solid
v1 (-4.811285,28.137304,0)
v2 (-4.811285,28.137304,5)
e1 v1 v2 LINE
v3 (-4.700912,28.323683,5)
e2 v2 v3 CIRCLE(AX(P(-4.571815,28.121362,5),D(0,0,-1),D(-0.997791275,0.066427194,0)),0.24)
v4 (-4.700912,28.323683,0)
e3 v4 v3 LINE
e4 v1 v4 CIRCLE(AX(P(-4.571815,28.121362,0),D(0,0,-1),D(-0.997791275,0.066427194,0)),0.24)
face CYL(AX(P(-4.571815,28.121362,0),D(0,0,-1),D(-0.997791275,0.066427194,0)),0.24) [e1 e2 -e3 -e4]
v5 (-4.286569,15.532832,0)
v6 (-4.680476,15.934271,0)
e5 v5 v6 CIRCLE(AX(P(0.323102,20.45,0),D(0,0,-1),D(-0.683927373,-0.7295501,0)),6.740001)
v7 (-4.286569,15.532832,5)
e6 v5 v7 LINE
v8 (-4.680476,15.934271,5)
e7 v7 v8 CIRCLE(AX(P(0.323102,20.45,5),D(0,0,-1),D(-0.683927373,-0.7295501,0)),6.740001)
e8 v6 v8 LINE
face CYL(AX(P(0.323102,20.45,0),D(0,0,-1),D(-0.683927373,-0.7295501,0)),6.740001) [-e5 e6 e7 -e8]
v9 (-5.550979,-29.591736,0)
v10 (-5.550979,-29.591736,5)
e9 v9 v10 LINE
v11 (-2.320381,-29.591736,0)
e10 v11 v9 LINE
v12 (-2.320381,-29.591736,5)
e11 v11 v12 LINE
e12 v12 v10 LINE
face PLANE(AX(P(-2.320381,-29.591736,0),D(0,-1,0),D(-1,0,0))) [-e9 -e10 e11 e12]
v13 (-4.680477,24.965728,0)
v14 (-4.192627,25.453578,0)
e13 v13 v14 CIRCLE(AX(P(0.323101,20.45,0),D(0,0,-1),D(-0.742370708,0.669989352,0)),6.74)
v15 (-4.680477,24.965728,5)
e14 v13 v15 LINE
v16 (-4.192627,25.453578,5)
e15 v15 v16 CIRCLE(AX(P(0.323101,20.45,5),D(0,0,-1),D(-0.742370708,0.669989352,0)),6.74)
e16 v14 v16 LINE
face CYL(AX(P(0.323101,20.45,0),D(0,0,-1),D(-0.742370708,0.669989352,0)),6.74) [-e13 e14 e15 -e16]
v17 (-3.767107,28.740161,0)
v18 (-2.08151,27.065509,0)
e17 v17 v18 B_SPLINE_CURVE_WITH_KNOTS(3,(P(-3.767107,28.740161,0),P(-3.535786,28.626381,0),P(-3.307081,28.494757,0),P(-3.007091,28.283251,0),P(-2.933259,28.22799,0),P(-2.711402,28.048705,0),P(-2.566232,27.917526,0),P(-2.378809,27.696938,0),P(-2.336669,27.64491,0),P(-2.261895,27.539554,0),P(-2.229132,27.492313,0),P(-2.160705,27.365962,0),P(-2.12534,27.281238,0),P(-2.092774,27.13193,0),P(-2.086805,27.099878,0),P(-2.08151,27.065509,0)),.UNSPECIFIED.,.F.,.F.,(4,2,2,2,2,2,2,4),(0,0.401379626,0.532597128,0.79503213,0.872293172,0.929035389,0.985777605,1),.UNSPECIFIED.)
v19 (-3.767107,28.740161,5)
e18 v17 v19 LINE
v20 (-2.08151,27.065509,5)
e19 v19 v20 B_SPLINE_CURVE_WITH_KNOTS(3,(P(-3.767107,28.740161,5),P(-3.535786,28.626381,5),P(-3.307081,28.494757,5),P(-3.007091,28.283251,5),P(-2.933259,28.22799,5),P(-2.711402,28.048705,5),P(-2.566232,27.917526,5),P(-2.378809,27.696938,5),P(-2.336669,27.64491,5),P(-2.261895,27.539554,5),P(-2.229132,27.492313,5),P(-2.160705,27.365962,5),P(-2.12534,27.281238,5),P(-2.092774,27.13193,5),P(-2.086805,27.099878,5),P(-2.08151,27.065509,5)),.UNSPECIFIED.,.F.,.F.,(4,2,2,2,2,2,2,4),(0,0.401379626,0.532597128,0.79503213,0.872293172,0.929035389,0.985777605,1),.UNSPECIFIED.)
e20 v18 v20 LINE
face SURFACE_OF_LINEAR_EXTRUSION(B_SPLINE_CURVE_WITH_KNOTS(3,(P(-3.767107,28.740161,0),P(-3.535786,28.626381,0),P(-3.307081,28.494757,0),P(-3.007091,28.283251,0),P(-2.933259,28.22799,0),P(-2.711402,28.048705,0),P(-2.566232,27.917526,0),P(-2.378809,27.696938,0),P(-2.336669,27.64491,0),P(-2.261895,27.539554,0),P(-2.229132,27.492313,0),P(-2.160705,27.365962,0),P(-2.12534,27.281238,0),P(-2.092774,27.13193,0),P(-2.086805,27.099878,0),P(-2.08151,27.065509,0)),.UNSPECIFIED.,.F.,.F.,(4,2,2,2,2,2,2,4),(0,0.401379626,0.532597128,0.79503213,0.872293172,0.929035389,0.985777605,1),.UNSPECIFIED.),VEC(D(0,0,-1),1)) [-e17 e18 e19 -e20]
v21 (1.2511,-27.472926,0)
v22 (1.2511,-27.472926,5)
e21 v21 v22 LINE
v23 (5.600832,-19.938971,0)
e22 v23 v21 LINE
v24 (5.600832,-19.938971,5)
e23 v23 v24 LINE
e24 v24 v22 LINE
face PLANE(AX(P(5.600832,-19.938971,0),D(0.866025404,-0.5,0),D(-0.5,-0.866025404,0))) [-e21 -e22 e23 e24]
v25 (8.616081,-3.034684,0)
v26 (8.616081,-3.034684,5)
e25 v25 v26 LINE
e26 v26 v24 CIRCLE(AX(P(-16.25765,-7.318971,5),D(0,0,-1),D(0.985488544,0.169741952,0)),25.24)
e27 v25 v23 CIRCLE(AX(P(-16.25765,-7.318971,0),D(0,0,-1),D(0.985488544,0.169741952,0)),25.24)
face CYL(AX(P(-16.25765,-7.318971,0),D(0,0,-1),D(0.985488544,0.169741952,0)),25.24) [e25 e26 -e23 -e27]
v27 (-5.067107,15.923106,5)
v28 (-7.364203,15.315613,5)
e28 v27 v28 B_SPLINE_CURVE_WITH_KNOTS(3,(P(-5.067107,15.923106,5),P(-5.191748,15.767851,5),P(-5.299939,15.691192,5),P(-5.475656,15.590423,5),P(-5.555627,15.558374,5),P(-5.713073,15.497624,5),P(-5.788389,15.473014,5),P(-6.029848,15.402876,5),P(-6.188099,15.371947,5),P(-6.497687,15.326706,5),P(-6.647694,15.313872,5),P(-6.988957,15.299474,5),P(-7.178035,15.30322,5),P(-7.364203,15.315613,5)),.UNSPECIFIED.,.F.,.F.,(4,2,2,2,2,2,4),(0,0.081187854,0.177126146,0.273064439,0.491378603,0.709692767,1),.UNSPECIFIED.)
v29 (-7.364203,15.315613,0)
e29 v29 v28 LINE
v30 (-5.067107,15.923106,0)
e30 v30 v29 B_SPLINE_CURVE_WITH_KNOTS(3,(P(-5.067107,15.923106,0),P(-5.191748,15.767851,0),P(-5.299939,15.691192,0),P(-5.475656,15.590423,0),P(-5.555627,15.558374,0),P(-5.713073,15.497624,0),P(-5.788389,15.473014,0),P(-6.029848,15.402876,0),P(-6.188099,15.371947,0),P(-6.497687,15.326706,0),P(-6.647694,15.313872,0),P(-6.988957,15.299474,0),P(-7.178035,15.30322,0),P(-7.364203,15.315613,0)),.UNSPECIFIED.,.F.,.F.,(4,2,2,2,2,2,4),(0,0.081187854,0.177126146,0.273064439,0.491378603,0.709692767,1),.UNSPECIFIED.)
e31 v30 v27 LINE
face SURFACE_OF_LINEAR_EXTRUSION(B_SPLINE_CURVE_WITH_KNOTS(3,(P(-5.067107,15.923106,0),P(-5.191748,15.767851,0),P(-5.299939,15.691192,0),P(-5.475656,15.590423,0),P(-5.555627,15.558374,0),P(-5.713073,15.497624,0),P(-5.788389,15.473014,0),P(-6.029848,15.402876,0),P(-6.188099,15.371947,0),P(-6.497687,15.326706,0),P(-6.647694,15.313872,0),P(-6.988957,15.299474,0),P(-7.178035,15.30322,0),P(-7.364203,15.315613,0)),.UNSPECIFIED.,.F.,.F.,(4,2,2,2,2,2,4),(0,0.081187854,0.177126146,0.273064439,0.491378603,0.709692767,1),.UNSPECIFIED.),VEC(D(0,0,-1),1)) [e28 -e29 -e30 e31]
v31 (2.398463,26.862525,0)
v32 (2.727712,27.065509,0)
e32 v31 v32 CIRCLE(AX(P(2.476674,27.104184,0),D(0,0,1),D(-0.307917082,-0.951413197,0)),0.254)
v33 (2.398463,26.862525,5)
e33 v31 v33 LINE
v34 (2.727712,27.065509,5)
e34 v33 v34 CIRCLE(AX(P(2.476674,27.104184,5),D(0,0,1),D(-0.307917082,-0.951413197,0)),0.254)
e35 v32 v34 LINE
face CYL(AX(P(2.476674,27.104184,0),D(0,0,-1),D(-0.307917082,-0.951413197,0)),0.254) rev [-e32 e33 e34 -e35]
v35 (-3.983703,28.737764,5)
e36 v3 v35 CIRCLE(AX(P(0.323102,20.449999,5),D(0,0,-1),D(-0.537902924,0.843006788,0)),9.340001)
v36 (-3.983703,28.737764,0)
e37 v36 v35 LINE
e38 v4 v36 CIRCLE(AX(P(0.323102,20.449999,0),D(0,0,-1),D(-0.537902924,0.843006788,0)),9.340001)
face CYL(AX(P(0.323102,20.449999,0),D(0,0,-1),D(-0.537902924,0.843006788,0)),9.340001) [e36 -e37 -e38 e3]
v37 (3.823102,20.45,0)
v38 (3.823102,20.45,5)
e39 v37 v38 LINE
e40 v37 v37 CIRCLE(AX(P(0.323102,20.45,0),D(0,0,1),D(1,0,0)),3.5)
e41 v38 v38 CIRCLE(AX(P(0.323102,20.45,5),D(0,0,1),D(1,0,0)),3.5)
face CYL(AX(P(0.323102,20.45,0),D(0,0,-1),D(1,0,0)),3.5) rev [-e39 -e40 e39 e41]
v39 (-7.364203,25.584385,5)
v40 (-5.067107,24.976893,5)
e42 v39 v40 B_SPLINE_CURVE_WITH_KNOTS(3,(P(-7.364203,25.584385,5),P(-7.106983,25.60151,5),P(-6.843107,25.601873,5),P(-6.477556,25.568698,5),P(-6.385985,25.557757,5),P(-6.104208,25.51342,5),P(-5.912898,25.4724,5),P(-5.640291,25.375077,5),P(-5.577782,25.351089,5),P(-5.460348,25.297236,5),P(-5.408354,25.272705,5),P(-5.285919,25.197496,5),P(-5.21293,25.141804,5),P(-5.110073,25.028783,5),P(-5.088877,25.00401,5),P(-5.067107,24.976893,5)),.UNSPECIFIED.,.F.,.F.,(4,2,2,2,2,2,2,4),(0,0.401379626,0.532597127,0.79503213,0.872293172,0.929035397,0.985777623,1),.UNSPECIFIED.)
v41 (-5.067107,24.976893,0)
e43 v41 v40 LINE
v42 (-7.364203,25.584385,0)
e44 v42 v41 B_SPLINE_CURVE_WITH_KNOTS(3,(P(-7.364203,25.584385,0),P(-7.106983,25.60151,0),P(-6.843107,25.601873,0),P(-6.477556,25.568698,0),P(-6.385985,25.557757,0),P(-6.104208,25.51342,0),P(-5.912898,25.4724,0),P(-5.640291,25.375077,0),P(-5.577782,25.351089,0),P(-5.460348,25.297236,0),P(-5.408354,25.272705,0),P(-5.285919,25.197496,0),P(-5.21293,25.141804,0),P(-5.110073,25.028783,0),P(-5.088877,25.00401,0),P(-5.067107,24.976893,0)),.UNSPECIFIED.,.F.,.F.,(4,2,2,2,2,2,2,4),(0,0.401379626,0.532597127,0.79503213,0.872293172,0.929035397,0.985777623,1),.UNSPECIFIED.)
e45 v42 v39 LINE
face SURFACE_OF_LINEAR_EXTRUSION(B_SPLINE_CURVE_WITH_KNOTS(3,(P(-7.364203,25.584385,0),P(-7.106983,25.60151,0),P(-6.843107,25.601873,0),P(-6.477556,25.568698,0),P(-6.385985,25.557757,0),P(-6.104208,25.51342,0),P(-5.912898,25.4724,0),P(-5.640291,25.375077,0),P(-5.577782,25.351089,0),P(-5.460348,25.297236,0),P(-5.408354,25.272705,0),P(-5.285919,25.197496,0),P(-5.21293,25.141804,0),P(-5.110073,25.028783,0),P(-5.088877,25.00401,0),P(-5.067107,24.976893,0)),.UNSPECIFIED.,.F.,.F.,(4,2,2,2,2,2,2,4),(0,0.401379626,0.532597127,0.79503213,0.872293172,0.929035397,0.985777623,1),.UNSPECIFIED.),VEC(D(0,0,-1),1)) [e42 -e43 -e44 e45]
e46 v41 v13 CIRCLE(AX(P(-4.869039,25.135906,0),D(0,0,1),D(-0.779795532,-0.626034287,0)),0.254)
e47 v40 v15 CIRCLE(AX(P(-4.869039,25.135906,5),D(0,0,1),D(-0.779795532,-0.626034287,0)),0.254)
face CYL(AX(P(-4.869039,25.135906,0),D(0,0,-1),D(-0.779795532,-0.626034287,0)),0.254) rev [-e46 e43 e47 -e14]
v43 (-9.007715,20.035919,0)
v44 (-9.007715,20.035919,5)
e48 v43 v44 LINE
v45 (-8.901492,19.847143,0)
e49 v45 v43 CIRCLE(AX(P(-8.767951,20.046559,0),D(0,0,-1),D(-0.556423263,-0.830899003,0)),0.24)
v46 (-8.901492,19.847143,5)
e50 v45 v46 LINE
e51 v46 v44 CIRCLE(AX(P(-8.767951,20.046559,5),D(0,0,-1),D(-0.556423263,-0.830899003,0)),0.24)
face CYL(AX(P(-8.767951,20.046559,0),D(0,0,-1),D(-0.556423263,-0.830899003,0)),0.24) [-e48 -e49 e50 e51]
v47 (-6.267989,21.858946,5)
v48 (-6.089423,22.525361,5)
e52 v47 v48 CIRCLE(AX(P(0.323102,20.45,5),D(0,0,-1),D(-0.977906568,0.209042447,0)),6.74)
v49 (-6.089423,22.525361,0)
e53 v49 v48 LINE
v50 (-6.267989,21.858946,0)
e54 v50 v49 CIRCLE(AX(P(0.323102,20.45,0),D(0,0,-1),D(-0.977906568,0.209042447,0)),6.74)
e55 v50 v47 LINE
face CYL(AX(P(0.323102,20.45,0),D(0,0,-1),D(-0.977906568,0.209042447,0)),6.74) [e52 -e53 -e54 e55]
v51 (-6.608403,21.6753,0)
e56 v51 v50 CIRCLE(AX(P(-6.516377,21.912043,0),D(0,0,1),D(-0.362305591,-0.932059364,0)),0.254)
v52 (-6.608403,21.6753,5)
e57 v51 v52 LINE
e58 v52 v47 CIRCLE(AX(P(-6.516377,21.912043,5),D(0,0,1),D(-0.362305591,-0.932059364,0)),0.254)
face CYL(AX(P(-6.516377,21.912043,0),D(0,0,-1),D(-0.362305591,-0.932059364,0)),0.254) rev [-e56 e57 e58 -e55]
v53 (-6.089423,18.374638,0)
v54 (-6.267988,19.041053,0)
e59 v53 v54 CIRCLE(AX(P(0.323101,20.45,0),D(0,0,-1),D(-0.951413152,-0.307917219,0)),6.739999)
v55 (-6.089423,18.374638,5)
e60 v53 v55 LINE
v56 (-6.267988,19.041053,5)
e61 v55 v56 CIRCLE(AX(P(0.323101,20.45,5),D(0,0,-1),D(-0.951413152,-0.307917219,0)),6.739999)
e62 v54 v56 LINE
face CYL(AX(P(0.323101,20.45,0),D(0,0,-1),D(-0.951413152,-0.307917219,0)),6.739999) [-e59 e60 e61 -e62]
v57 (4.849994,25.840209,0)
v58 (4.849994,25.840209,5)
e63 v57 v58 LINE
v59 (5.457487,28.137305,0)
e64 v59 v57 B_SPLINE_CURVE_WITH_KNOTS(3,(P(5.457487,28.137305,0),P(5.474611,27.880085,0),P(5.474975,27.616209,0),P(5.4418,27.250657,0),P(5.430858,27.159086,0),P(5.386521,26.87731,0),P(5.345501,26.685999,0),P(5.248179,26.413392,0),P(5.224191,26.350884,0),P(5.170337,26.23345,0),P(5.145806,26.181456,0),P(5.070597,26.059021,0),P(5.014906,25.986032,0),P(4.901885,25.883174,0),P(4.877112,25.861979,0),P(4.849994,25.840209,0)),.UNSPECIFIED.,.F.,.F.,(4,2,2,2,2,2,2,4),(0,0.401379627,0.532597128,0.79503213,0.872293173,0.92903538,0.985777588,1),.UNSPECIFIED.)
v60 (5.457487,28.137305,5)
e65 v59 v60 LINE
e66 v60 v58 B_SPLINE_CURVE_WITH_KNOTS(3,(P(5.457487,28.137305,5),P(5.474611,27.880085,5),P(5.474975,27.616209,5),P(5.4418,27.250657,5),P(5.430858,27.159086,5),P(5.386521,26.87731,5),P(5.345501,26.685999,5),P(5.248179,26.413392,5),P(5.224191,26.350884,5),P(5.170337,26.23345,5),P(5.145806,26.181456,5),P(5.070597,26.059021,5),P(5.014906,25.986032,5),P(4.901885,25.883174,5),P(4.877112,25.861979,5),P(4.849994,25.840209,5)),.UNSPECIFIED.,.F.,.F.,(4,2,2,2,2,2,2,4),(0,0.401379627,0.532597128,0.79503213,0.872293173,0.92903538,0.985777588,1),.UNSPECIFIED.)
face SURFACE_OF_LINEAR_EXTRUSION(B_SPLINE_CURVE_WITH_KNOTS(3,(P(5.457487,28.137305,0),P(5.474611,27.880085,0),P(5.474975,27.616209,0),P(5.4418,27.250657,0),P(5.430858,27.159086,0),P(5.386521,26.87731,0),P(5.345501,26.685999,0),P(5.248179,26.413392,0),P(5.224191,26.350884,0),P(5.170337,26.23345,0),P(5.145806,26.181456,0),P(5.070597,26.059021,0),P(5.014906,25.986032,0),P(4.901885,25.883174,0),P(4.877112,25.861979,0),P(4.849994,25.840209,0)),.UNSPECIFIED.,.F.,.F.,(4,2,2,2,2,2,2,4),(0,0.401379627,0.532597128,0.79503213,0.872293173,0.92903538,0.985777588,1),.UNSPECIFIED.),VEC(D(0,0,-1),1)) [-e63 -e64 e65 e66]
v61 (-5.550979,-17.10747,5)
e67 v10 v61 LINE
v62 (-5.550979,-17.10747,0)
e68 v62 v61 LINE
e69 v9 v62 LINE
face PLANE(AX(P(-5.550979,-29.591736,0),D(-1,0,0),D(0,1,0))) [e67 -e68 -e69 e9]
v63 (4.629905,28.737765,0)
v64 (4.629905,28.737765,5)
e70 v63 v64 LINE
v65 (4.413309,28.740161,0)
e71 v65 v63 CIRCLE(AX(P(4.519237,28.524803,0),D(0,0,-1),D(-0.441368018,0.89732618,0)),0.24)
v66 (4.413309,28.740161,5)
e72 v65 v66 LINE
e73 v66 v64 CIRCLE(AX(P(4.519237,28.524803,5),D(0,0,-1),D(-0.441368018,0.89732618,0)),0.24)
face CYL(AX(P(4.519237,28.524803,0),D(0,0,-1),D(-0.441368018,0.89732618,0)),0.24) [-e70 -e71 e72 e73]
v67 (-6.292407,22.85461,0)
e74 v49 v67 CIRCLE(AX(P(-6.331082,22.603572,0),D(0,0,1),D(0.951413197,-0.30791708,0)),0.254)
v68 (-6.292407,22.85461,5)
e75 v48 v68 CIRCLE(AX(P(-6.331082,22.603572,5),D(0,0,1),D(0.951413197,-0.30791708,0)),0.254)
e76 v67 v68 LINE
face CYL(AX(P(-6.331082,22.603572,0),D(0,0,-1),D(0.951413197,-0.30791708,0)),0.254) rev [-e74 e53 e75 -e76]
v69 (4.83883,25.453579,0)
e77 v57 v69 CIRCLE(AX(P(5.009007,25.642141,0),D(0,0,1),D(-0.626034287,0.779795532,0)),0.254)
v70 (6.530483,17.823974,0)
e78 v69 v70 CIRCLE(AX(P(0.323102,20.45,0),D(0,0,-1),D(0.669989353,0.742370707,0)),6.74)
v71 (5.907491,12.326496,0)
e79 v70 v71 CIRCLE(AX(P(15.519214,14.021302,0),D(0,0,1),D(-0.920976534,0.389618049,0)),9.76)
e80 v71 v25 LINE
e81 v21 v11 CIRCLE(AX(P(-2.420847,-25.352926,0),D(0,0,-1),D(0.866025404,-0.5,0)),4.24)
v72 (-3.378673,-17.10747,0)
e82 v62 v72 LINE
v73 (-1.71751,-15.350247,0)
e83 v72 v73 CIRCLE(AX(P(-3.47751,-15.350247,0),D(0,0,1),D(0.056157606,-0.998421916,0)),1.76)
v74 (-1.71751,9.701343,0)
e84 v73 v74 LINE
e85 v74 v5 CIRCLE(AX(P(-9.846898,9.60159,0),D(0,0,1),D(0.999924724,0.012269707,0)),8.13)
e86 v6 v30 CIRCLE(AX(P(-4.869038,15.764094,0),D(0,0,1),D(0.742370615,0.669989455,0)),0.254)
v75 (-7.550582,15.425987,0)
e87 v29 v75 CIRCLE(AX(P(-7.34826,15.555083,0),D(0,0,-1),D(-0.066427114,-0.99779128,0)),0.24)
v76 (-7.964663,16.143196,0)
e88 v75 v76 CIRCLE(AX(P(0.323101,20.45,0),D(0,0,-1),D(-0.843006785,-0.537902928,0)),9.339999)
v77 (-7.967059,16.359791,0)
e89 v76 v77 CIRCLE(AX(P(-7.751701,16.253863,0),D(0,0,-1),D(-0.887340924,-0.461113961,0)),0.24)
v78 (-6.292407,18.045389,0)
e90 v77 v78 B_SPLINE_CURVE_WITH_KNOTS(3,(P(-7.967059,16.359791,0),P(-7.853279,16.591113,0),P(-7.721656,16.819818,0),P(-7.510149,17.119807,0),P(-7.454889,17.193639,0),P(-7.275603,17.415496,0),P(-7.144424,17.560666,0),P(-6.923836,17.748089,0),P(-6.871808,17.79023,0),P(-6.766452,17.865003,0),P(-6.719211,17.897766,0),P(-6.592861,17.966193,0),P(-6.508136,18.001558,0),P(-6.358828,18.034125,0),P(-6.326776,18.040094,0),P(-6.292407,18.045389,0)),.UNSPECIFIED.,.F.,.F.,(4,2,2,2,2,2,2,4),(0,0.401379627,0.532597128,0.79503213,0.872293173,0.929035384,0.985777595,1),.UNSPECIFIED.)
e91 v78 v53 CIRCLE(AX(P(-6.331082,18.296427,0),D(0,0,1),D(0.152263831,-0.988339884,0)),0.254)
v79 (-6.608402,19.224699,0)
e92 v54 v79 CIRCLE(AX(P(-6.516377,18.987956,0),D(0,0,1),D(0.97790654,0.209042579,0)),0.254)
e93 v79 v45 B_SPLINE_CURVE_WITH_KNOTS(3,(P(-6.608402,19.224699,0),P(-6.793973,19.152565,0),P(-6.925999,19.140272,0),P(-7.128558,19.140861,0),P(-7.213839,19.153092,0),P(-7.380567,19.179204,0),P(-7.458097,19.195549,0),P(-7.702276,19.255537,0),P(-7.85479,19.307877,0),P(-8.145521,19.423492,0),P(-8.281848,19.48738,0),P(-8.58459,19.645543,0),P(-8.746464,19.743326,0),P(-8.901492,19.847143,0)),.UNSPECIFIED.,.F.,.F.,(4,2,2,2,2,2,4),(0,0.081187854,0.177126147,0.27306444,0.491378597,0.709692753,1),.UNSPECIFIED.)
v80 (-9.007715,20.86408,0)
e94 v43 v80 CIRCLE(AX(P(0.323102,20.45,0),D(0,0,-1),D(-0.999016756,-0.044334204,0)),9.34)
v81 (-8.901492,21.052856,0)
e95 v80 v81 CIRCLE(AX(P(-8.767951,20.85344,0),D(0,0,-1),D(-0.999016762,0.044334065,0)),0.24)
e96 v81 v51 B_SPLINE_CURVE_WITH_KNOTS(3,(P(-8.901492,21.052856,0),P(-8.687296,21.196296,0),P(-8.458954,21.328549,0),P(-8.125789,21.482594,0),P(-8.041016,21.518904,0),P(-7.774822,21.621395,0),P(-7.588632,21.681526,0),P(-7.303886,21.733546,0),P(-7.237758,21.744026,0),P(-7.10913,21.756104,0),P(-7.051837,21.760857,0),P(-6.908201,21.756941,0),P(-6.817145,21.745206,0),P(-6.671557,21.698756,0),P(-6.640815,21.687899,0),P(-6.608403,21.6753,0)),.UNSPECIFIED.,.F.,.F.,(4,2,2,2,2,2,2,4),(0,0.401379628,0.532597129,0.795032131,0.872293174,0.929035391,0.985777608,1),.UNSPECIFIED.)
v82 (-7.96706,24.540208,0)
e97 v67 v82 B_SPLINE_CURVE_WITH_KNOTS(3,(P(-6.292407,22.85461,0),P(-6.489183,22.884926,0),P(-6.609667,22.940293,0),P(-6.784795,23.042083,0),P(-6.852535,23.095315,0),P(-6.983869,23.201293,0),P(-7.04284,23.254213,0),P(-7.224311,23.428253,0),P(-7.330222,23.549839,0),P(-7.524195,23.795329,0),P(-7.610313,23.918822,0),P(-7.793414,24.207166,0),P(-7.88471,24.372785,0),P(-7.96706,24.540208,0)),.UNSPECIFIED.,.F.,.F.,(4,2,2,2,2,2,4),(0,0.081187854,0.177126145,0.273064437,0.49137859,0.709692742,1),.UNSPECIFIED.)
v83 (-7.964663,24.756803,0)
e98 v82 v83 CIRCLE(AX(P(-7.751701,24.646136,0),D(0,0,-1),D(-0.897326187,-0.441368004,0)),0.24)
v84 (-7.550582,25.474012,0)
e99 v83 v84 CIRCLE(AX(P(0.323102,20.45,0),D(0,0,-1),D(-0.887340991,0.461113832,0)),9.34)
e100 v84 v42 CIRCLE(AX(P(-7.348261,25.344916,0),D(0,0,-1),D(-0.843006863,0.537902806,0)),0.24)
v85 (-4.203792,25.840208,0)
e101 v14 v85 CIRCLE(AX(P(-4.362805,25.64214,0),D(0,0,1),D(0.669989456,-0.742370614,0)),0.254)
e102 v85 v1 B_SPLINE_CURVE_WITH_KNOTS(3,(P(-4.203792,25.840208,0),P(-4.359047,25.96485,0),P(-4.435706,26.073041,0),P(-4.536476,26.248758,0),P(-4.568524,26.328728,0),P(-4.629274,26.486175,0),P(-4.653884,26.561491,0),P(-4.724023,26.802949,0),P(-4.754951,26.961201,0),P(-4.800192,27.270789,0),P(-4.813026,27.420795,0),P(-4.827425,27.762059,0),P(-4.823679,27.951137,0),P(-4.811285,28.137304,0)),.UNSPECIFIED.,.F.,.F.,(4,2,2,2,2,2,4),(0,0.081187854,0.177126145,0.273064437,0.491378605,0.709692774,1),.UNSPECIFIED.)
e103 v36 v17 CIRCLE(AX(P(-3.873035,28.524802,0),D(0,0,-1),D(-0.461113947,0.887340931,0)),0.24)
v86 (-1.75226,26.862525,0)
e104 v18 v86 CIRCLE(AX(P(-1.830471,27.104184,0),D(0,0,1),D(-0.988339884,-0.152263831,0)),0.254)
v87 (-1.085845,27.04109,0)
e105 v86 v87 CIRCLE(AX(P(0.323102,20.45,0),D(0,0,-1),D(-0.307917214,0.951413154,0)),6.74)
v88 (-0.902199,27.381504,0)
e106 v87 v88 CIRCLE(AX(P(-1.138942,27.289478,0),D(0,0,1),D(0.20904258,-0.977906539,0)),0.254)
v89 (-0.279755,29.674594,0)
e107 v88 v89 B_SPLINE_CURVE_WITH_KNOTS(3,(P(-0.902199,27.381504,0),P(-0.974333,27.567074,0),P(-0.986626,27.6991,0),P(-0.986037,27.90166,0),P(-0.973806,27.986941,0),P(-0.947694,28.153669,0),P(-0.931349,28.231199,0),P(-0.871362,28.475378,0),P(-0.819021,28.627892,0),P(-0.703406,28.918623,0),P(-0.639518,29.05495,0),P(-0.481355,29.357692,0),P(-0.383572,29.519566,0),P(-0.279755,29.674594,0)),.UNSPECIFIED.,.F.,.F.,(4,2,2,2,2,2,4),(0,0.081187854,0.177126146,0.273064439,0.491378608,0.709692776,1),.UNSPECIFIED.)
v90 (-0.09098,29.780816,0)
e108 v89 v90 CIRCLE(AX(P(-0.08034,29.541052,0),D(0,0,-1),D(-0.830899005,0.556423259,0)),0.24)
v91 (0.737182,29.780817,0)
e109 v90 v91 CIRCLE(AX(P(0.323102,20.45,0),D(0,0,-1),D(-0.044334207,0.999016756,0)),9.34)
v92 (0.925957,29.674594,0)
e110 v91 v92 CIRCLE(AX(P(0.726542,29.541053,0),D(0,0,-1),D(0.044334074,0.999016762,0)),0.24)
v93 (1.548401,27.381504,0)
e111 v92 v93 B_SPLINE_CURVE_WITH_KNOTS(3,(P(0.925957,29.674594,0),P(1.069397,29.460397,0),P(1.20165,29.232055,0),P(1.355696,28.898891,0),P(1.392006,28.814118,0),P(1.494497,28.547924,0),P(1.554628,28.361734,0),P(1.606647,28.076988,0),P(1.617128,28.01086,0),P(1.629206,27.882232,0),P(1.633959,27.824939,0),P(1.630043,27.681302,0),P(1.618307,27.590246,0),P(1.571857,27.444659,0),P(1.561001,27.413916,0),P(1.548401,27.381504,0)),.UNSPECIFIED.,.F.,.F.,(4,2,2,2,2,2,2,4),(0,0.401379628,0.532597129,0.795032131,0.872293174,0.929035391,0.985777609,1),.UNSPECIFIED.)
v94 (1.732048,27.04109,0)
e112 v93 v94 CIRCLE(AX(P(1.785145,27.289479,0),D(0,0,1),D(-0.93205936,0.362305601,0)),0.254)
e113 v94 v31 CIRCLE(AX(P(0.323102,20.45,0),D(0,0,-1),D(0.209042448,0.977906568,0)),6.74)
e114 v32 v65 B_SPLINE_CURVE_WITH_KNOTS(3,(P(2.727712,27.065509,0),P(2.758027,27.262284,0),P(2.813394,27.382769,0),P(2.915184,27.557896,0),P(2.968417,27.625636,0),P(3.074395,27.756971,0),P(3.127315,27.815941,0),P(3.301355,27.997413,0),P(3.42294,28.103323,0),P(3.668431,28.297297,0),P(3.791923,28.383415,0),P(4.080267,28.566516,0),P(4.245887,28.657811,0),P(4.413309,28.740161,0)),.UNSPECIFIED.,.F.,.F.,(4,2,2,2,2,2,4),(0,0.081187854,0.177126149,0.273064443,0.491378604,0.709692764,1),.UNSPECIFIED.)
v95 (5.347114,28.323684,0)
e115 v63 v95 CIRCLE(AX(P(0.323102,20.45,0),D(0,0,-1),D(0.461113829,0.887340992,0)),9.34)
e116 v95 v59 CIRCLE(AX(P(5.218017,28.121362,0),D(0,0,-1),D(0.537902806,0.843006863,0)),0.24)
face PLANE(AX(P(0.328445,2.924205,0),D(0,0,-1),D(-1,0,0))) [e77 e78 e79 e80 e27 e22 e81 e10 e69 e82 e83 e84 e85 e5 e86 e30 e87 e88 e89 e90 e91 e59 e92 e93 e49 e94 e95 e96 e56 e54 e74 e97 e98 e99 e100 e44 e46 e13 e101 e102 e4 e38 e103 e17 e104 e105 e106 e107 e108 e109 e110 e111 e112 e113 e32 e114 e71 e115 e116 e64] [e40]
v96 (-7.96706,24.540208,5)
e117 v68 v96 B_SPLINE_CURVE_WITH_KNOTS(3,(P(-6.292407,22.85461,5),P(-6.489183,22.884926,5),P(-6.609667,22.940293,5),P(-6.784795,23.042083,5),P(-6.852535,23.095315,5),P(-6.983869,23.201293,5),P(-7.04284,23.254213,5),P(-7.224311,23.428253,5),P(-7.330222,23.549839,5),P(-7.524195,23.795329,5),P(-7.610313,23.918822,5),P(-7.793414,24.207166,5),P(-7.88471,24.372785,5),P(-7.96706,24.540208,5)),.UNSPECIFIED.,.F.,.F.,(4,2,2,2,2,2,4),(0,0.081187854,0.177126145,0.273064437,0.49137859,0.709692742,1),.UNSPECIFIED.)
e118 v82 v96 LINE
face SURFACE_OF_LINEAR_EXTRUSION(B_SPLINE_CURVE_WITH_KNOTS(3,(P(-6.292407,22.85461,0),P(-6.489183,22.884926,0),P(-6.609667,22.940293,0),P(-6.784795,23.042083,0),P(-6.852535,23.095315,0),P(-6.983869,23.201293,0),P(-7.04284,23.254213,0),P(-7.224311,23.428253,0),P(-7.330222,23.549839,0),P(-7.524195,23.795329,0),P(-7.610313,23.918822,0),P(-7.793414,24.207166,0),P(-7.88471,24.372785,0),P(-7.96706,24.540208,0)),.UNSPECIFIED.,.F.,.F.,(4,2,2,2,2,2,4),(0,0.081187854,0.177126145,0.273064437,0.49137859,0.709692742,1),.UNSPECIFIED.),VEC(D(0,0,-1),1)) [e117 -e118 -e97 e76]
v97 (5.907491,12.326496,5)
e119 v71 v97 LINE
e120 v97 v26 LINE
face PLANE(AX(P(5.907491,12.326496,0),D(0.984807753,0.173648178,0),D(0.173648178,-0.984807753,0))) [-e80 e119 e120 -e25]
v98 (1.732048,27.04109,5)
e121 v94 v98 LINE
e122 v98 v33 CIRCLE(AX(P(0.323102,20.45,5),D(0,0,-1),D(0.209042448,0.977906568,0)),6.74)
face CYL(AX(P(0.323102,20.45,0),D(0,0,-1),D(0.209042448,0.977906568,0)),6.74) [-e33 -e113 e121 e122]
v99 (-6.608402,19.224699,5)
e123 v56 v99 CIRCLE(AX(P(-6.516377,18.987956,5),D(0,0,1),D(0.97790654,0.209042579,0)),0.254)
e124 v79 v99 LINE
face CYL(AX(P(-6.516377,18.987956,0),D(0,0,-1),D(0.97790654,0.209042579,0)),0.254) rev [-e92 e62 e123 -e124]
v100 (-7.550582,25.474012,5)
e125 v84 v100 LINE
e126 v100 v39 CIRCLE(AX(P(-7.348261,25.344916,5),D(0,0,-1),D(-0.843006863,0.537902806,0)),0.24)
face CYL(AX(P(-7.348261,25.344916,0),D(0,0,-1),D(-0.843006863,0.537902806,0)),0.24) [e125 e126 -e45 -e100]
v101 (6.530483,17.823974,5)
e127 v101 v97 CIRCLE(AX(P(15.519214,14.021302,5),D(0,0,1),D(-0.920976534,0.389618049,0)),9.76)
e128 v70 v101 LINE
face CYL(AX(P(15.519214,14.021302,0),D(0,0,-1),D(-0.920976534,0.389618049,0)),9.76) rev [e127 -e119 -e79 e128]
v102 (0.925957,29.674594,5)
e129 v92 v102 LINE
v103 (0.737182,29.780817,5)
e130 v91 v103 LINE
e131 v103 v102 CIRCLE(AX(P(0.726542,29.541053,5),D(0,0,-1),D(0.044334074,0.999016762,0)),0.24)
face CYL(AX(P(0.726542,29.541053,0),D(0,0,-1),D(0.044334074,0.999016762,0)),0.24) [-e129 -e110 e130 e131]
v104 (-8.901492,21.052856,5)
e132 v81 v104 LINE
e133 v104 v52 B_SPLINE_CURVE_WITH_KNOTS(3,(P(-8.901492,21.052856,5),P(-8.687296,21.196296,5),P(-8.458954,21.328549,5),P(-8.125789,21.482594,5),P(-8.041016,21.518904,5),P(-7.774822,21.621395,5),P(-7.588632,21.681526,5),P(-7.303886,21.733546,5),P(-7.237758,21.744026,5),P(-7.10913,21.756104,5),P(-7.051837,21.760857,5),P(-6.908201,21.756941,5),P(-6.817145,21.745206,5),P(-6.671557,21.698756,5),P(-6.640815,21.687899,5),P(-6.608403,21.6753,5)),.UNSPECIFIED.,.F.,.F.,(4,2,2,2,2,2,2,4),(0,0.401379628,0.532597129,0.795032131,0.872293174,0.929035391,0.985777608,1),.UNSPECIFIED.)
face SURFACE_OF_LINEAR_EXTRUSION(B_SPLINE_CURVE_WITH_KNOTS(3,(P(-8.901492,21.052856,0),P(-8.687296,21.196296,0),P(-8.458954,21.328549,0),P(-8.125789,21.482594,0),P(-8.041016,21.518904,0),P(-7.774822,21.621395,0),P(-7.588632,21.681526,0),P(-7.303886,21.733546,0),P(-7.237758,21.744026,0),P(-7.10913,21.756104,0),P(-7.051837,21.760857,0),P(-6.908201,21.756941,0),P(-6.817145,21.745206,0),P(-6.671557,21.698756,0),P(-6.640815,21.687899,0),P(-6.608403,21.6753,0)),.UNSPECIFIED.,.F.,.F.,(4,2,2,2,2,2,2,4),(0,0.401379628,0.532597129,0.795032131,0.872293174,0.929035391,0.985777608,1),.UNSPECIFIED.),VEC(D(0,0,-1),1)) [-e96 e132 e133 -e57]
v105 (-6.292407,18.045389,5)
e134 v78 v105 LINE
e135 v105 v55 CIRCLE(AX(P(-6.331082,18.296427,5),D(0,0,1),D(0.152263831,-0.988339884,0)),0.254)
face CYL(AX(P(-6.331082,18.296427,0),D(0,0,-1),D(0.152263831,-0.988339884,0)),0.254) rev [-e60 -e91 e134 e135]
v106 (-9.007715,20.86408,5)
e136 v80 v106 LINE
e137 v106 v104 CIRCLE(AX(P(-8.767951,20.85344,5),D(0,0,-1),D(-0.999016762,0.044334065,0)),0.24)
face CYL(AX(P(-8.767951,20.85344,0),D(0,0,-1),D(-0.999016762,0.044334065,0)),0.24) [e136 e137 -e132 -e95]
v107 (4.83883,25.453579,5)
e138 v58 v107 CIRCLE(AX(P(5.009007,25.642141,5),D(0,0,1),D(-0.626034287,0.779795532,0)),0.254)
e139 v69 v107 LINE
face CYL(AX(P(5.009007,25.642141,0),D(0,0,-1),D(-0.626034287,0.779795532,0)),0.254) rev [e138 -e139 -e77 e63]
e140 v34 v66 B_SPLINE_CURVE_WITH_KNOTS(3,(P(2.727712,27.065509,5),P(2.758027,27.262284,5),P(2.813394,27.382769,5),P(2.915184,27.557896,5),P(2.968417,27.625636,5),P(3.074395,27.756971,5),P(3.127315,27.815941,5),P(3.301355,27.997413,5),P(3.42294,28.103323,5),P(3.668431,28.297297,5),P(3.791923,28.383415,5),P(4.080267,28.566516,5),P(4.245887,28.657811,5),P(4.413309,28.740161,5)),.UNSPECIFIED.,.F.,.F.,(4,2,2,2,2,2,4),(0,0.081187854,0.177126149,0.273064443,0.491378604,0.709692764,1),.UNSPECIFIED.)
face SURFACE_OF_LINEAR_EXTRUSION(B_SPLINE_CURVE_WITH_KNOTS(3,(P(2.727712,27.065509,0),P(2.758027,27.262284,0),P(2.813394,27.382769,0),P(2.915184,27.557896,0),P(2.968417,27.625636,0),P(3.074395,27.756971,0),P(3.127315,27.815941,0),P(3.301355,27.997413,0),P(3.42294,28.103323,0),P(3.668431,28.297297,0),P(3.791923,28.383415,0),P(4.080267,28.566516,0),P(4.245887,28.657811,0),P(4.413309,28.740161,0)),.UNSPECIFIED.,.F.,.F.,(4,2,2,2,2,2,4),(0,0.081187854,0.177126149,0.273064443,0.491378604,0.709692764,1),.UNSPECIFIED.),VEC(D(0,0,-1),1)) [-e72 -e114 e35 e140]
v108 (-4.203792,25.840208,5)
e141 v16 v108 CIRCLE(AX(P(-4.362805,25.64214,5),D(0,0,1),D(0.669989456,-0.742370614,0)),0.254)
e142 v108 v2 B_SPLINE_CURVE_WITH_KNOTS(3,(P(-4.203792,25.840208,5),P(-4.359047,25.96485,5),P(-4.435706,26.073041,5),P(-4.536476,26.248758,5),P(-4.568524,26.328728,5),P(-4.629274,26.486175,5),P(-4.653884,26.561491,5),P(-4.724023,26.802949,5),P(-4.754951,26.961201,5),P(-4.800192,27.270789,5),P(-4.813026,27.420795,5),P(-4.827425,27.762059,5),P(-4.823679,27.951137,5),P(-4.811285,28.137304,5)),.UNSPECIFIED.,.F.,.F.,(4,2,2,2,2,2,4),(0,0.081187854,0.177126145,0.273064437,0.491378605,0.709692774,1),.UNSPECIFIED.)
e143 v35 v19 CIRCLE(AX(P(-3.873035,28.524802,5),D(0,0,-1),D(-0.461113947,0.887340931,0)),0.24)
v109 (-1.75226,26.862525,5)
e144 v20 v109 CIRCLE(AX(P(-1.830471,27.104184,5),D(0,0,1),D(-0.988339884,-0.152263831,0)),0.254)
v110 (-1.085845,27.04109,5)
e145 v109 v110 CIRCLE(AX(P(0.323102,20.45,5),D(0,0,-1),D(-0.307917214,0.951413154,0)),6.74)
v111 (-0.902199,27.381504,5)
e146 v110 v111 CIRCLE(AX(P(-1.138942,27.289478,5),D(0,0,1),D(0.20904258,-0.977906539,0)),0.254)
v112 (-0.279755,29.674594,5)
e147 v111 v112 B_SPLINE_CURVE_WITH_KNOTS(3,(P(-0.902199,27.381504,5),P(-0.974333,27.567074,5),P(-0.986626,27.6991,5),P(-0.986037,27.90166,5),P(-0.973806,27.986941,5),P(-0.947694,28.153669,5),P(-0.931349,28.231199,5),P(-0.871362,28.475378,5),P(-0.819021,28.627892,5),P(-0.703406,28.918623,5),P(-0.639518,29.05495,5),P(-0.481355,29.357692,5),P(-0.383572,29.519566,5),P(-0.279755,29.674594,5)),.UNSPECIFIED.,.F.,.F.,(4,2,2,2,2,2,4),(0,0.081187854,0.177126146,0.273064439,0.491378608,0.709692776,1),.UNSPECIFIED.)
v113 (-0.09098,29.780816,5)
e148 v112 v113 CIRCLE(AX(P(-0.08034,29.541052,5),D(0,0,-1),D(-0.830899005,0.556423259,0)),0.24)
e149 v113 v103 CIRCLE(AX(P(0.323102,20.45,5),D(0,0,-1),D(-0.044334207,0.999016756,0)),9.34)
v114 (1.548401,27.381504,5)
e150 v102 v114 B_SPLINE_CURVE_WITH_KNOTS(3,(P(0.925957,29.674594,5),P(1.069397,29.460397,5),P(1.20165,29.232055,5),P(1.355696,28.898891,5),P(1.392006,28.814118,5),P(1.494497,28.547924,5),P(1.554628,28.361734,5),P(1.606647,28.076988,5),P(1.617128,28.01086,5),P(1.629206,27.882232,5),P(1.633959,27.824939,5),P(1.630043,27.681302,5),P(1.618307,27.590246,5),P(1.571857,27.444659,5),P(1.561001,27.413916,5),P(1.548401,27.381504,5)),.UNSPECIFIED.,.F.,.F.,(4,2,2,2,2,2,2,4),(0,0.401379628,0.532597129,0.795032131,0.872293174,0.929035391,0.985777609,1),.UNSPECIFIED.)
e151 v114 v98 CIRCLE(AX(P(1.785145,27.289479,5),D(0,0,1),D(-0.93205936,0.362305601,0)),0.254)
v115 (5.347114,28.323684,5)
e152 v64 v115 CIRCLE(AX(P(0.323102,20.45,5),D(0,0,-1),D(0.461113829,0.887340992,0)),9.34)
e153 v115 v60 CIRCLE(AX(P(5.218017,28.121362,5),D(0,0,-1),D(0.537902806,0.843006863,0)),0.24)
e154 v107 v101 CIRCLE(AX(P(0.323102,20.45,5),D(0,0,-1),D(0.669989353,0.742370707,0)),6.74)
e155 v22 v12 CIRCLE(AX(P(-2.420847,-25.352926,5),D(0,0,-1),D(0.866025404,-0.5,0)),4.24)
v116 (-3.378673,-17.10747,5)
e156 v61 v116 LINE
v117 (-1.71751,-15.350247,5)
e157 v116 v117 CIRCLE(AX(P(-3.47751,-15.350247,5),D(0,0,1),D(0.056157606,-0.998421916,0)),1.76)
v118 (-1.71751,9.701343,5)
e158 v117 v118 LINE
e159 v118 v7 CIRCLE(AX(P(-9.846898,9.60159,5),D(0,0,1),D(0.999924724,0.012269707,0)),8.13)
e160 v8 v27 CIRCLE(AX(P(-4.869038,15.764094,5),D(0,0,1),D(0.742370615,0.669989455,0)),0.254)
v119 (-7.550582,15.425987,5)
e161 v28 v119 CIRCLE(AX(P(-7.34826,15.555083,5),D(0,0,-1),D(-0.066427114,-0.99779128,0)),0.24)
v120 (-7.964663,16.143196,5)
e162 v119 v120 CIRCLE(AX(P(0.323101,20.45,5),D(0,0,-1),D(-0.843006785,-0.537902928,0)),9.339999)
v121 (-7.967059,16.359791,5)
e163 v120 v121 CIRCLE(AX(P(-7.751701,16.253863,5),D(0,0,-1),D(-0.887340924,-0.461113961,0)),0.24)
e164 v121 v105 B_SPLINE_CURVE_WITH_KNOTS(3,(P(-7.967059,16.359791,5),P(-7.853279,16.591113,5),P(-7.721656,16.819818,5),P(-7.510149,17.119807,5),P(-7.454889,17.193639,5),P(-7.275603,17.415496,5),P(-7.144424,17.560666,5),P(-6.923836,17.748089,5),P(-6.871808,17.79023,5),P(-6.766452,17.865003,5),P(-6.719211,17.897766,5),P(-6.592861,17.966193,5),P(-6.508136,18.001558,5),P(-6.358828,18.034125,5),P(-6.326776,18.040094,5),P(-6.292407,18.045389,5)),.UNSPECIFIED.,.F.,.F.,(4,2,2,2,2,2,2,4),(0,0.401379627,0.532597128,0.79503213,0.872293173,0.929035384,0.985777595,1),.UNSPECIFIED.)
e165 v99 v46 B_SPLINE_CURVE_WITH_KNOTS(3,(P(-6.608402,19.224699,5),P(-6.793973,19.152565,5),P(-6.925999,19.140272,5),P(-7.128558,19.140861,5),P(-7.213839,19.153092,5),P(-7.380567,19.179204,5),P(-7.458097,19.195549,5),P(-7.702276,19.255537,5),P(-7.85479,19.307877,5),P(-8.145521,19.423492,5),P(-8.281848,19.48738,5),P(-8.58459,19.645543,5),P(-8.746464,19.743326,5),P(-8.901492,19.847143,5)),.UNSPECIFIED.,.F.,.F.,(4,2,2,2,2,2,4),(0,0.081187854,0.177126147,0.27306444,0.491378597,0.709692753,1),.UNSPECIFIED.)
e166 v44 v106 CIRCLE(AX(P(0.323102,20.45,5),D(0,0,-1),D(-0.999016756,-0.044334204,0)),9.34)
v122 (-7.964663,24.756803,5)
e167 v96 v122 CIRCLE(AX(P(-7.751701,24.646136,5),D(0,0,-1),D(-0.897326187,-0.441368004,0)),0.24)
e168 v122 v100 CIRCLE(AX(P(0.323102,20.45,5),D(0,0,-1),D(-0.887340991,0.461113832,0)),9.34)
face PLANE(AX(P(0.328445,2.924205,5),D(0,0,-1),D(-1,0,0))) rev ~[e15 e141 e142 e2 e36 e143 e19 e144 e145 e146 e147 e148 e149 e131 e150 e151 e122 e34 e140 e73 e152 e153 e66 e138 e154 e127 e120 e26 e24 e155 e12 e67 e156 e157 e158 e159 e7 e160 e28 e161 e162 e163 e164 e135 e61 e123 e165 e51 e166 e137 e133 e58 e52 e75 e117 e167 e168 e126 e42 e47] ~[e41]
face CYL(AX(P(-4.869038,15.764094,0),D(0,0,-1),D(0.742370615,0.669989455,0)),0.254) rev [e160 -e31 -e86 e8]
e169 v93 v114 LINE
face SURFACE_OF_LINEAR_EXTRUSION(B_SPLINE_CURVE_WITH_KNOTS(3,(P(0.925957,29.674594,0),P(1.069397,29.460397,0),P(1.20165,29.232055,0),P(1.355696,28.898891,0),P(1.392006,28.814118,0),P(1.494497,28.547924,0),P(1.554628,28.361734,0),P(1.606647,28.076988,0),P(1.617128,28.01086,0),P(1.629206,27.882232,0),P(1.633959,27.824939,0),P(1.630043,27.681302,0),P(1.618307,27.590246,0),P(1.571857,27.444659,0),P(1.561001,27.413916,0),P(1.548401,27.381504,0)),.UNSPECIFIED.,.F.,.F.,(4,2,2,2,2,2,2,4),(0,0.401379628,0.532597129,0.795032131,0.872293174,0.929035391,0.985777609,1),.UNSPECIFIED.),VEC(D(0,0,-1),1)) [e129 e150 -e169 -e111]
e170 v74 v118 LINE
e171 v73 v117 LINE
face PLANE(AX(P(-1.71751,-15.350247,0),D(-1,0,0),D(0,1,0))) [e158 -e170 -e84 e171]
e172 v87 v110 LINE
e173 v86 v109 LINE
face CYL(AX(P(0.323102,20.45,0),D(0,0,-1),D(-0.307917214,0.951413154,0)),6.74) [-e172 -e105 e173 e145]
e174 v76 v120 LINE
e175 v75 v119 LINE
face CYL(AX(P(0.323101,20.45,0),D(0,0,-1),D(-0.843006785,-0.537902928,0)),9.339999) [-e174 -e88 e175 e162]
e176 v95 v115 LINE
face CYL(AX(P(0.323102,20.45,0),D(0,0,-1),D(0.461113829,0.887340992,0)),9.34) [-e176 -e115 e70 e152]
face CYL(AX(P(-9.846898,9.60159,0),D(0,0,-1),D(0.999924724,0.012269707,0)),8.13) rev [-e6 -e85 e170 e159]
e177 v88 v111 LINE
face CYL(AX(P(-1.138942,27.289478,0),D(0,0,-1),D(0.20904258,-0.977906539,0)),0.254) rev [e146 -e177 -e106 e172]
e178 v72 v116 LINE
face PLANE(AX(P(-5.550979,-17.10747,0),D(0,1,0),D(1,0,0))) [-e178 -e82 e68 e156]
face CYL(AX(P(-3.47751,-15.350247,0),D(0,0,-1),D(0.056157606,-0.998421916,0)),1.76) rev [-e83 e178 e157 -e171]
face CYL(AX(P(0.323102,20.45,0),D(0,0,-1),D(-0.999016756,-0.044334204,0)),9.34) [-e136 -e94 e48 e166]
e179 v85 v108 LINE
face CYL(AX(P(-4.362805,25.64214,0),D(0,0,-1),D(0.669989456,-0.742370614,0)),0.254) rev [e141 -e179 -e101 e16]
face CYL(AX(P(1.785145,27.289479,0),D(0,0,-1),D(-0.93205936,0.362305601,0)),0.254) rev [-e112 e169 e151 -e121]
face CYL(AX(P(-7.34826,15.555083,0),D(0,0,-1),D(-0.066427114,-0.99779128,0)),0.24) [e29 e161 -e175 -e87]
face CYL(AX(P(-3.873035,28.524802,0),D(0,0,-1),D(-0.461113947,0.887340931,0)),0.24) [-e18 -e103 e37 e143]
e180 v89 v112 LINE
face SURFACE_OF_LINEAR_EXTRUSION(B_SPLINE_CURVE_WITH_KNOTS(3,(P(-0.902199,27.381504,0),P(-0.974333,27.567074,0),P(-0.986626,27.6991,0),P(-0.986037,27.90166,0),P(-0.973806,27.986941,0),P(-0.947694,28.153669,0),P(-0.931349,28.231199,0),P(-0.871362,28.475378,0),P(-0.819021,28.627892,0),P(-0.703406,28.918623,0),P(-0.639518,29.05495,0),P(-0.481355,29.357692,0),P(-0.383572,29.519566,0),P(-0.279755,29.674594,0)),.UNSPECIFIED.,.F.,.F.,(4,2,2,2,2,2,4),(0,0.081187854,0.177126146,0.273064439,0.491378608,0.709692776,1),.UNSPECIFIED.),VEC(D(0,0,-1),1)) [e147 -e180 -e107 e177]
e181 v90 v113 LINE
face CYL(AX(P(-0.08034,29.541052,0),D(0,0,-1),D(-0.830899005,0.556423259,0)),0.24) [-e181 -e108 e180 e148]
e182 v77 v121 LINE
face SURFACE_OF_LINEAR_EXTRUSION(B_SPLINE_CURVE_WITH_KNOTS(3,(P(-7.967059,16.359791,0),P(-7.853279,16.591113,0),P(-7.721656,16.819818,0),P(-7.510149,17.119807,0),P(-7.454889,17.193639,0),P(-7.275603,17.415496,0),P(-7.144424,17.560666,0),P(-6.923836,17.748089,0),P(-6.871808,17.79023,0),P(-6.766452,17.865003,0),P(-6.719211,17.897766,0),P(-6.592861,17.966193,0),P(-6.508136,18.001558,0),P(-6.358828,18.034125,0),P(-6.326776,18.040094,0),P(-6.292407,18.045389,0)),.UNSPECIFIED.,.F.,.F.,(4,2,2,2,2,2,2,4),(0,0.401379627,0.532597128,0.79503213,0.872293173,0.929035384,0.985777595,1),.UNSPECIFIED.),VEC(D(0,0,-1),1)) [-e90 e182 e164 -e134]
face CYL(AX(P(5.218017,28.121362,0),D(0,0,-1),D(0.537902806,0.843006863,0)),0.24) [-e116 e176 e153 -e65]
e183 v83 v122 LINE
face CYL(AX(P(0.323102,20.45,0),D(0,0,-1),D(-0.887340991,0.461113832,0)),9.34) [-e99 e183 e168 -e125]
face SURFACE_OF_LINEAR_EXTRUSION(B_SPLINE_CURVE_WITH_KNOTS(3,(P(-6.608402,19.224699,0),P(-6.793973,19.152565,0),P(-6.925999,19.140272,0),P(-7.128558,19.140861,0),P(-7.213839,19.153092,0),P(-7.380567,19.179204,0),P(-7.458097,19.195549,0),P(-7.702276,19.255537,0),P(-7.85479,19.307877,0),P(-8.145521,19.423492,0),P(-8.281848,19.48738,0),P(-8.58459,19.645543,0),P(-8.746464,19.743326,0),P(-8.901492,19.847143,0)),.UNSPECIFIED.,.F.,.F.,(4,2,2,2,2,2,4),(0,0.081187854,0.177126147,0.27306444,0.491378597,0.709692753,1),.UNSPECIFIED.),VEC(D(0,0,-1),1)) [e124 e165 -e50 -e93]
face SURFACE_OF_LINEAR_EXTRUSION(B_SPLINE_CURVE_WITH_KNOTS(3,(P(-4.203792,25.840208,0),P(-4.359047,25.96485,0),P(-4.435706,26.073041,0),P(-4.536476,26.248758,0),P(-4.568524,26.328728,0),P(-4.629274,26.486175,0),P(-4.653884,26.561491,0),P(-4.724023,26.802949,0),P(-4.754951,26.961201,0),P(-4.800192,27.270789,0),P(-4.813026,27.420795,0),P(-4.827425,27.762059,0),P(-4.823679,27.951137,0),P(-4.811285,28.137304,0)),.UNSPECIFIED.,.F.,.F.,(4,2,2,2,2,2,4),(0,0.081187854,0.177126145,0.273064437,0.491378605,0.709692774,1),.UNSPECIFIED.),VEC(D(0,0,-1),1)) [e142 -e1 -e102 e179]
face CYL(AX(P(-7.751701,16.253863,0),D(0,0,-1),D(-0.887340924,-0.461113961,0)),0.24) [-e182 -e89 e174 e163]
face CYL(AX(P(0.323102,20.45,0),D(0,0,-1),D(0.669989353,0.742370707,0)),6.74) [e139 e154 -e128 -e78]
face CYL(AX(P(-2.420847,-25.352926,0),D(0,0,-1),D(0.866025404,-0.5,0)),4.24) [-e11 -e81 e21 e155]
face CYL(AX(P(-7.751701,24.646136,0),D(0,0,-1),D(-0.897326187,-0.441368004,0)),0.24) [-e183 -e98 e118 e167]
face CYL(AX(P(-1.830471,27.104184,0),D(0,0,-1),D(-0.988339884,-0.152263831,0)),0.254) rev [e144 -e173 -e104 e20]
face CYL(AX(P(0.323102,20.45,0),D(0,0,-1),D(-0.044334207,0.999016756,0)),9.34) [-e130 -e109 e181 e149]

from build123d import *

# Parameters (mm, degrees)
ESQUISSE1_R        = 3.5
BOSS_EXTRU_1_DEPTH = 5


with BuildPart() as part:
    # Esquisse1 → Boss.-Extru.1 (new body)
    with BuildSketch(Plane.XY):
        with BuildLine():
            Line((5.90749079, 12.326495986), (8.616081221, -3.034683677))
            ThreePointArc((8.616081221, -3.034683677), (8.590159921, -11.751121376), (5.60083157, -19.938970549))
            Line((5.60083157, -19.938970549), (1.251100309, -27.472926092))
            ThreePointArc((1.251100309, -27.472926092), (-0.257489724, -28.999497571), (-2.320380522, -29.591735642))
            Line((-2.320380522, -29.591735642), (-5.550979445, -29.591735642))
            Line((-5.550979445, -29.591735642), (-5.550979445, -17.107469849))
            Line((-5.550979445, -17.107469849), (-3.378672956, -17.107469849))
            ThreePointArc((-3.378672956, -17.107469849), (-2.198535402, -16.559306042), (-1.717510344, -15.350247276))
            Line((-1.717510344, -15.350247276), (-1.717510344, 9.701342702))
            ThreePointArc((-1.717510344, 9.701342702), (-2.406894368, 12.879278297), (-4.28656883, 15.53283231))
            ThreePointArc((-4.28656883, 15.53283231), (-4.487711645, 15.729441192), (-4.68047629, 15.934271064))
            ThreePointArc((-4.68047629, 15.934271064), (-4.876370075, 16.017987907), (-5.067106513, 15.923106423))
            add(Edge.make_bspline(
                [(-5.067106513, 15.923106423), (-5.191748055, 15.767851436), (-5.299939447, 15.691192227), (-5.475656017, 15.590422708), (-5.555626682, 15.558374213), (-5.713073438, 15.497624167), (-5.788388923, 15.47301413), (-6.0298478, 15.402875582), (-6.188098951, 15.371946944), (-6.497686976, 15.326706478), (-6.647693738, 15.313871913), (-6.988957126, 15.299473797), (-7.17803548, 15.303219532), (-7.36420262, 15.315613466)],
                knots=[0, 0, 0, 0, 0.081187854, 0.081187854, 0.177126146, 0.177126146, 0.273064439, 0.273064439, 0.491378603, 0.491378603, 0.709692767, 0.709692767, 1, 1, 1, 1], degree=3))
            ThreePointArc((-7.36420262, 15.315613466), (-7.470552259, 15.348577609), (-7.550581738, 15.42598667))
            ThreePointArc((-7.550581738, 15.42598667), (-7.7655753, 15.779999439), (-7.96466262, 16.143195682))
            ThreePointArc((-7.96466262, 16.143195682), (-7.991686109, 16.251207764), (-7.967059097, 16.359791322))
            add(Edge.make_bspline(
                [(-7.967059097, 16.359791322), (-7.853279142, 16.591112501), (-7.721655826, 16.819817791), (-7.510149499, 17.119807091), (-7.454888608, 17.193639283), (-7.275603496, 17.41549623), (-7.144423881, 17.560666055), (-6.923836208, 17.748089252), (-6.871808058, 17.790229571), (-6.766452318, 17.865003383), (-6.719211083, 17.897766079), (-6.592860612, 17.966193375), (-6.508136026, 18.001557991), (-6.358828318, 18.034124778), (-6.326776228, 18.040093733), (-6.292406937, 18.045388672)],
                knots=[0, 0, 0, 0, 0.401379627, 0.401379627, 0.532597128, 0.532597128, 0.79503213, 0.79503213, 0.872293173, 0.872293173, 0.929035384, 0.929035384, 0.985777595, 0.985777595, 1, 1, 1, 1], degree=3))
            ThreePointArc((-6.292406937, 18.045388672), (-6.114868959, 18.163130556), (-6.089423008, 18.374637975))
            ThreePointArc((-6.089423008, 18.374637975), (-6.187238301, 18.705559184), (-6.267988424, 19.041052993))
            ThreePointArc((-6.267988424, 19.041052993), (-6.395778997, 19.211500799), (-6.608402339, 19.224699243))
            add(Edge.make_bspline(
                [(-6.608402339, 19.224699243), (-6.793972575, 19.152565251), (-6.925998674, 19.140272125), (-7.128558447, 19.140861446), (-7.213839323, 19.153091968), (-7.380567237, 19.179204263), (-7.458097378, 19.195549088), (-7.702276169, 19.255536761), (-7.85479, 19.307877348), (-8.145521318, 19.423491963), (-8.281848263, 19.487380282), (-8.58459009, 19.645542843), (-8.746463889, 19.743325926), (-8.901492413, 19.84714297)],
                knots=[0, 0, 0, 0, 0.081187854, 0.081187854, 0.177126147, 0.177126147, 0.27306444, 0.27306444, 0.491378597, 0.491378597, 0.709692753, 0.709692753, 1, 1, 1, 1], degree=3))
            ThreePointArc((-8.901492413, 19.84714297), (-8.977111822, 19.928865573), (-9.007714851, 20.035918521))
            ThreePointArc((-9.007714851, 20.035918521), (-9.016898352, 20.449999352), (-9.007714908, 20.864080185))
            ThreePointArc((-9.007714908, 20.864080185), (-8.977111894, 20.971133137), (-8.901492497, 21.05285575))
            add(Edge.make_bspline(
                [(-8.901492497, 21.05285575), (-8.687295576, 21.196295791), (-8.458953794, 21.328548725), (-8.125789291, 21.482593915), (-8.04101586, 21.518904025), (-7.774821925, 21.621395219), (-7.588632133, 21.681526168), (-7.303886006, 21.733545582), (-7.237758148, 21.744026093), (-7.109130488, 21.756104245), (-7.051837025, 21.760856956), (-6.908200633, 21.756941491), (-6.817144663, 21.745205847), (-6.671557002, 21.698755648), (-6.640814628, 21.687898878), (-6.608402509, 21.675299796)],
                knots=[0, 0, 0, 0, 0.401379628, 0.401379628, 0.532597129, 0.532597129, 0.795032131, 0.795032131, 0.872293174, 0.872293174, 0.929035391, 0.929035391, 0.985777608, 0.985777608, 1, 1, 1, 1], degree=3))
            ThreePointArc((-6.608402509, 21.675299796), (-6.395779169, 21.68849827), (-6.267988619, 21.858946092))
            ThreePointArc((-6.267988619, 21.858946092), (-6.187238542, 22.194439913), (-6.089423296, 22.525361136))
            ThreePointArc((-6.089423296, 22.525361136), (-6.114869276, 22.736868551), (-6.29240727, 22.85461041))
            add(Edge.make_bspline(
                [(-6.29240727, 22.85461041), (-6.489182804, 22.884925658), (-6.609667322, 22.940292548), (-6.784794571, 23.042082802), (-6.852534713, 23.095315181), (-6.983869174, 23.201293048), (-7.042839833, 23.254213152), (-7.22431103, 23.428253393), (-7.330221587, 23.549838585), (-7.524194984, 23.795329432), (-7.610313421, 23.91882181), (-7.793414258, 24.207165522), (-7.884709542, 24.372785062), (-7.967059664, 24.540207528)],
                knots=[0, 0, 0, 0, 0.081187854, 0.081187854, 0.177126145, 0.177126145, 0.273064437, 0.273064437, 0.49137859, 0.49137859, 0.709692742, 0.709692742, 1, 1, 1, 1], degree=3))
            ThreePointArc((-7.967059664, 24.540207528), (-7.991686691, 24.648791083), (-7.964663218, 24.756803169))
            ThreePointArc((-7.964663218, 24.756803169), (-7.765575947, 25.119999439), (-7.550582435, 25.474012237))
            ThreePointArc((-7.550582435, 25.474012237), (-7.470552972, 25.551421306), (-7.364203346, 25.584385467))
            add(Edge.make_bspline(
                [(-7.364203346, 25.584385467), (-7.106983352, 25.601509726), (-6.843107104, 25.601873235), (-6.477555586, 25.568698032), (-6.385984587, 25.557756794), (-6.104208278, 25.513419805), (-5.912897712, 25.472399838), (-5.640290627, 25.375076909), (-5.577781967, 25.351089369), (-5.460348064, 25.297235523), (-5.408354106, 25.272704758), (-5.285919051, 25.197495651), (-5.212930077, 25.141804283), (-5.110072567, 25.028783389), (-5.088877296, 25.004009986), (-5.067107141, 24.976892829)],
                knots=[0, 0, 0, 0, 0.401379626, 0.401379626, 0.532597127, 0.532597127, 0.79503213, 0.79503213, 0.872293172, 0.872293172, 0.929035397, 0.929035397, 0.985777623, 0.985777623, 1, 1, 1, 1], degree=3))
            ThreePointArc((-5.067107141, 24.976892829), (-4.876370689, 24.882011372), (-4.680476916, 24.965728242))
            ThreePointArc((-4.680476916, 24.965728242), (-4.442798388, 25.215899375), (-4.192627288, 25.453577937))
            ThreePointArc((-4.192627288, 25.453577937), (-4.108910445, 25.649471722), (-4.203791929, 25.840208161))
            add(Edge.make_bspline(
                [(-4.203791929, 25.840208161), (-4.359046916, 25.964849702), (-4.435706125, 26.073041095), (-4.536475644, 26.248757664), (-4.568524139, 26.328728328), (-4.629274184, 26.486175083), (-4.65388422, 26.561490566), (-4.724022771, 26.802949447), (-4.754951409, 26.961200601), (-4.800191875, 27.270788631), (-4.81302644, 27.420795397), (-4.827424555, 27.762058783), (-4.82367882, 27.951137132), (-4.811284886, 28.137304281)],
                knots=[0, 0, 0, 0, 0.081187854, 0.081187854, 0.177126145, 0.177126145, 0.273064437, 0.273064437, 0.491378605, 0.491378605, 0.709692774, 0.709692774, 1, 1, 1, 1], degree=3))
            ThreePointArc((-4.811284886, 28.137304281), (-4.778320739, 28.243653912), (-4.700911682, 28.323683386))
            ThreePointArc((-4.700911682, 28.323683386), (-4.346898913, 28.538676947), (-3.983702671, 28.737764268))
            ThreePointArc((-3.983702671, 28.737764268), (-3.875690588, 28.764787756), (-3.76710703, 28.740160744))
            add(Edge.make_bspline(
                [(-3.76710703, 28.740160744), (-3.535785851, 28.62638079), (-3.307080562, 28.494757474), (-3.007091263, 28.283251147), (-2.93325907, 28.227990257), (-2.711402123, 28.048705144), (-2.566232297, 27.917525528), (-2.3788091, 27.696937856), (-2.336668783, 27.644909707), (-2.261894967, 27.539553963), (-2.229132267, 27.492312725), (-2.160704964, 27.365962233), (-2.125340346, 27.281237633), (-2.092773566, 27.13192992), (-2.086804616, 27.099877851), (-2.08150968, 27.065508585)],
                knots=[0, 0, 0, 0, 0.401379626, 0.401379626, 0.532597128, 0.532597128, 0.79503213, 0.79503213, 0.872293172, 0.872293172, 0.929035389, 0.929035389, 0.985777605, 0.985777605, 1, 1, 1, 1], degree=3))
            ThreePointArc((-2.08150968, 27.065508585), (-1.963767796, 26.887970607), (-1.752260377, 26.862524656))
            ThreePointArc((-1.752260377, 26.862524656), (-1.421339168, 26.960339948), (-1.085845359, 27.041090072))
            ThreePointArc((-1.085845359, 27.041090072), (-0.915397554, 27.168880644), (-0.90219911, 27.381503987))
            add(Edge.make_bspline(
                [(-0.90219911, 27.381503987), (-0.974333102, 27.567074222), (-0.986626228, 27.699100322), (-0.986036906, 27.901660094), (-0.973806385, 27.986940969), (-0.94769409, 28.153668883), (-0.931349264, 28.231199024), (-0.87136159, 28.475377824), (-0.819020999, 28.627891662), (-0.703406377, 28.918622995), (-0.639518053, 29.054949947), (-0.481355494, 29.357691764), (-0.383572418, 29.519565549), (-0.279755382, 29.674594061)],
                knots=[0, 0, 0, 0, 0.081187854, 0.081187854, 0.177126146, 0.177126146, 0.273064439, 0.273064439, 0.491378608, 0.491378608, 0.709692776, 0.709692776, 1, 1, 1, 1], degree=3))
            ThreePointArc((-0.279755382, 29.674594061), (-0.198032779, 29.75021347), (-0.090979831, 29.780816498))
            ThreePointArc((-0.090979831, 29.780816498), (0.323101, 29.79), (0.737181833, 29.780816556))
            ThreePointArc((0.737181833, 29.780816556), (0.844234784, 29.750213542), (0.925957398, 29.674594145))
            add(Edge.make_bspline(
                [(0.925957398, 29.674594145), (1.069397439, 29.460397223), (1.201650373, 29.232055442), (1.355695563, 28.898890939), (1.392005672, 28.814117508), (1.494496867, 28.547923573), (1.554627816, 28.361733781), (1.60664723, 28.076987654), (1.617127741, 28.010859796), (1.629205892, 27.882232135), (1.633958604, 27.824938672), (1.630043139, 27.681302279), (1.618307494, 27.590246309), (1.571857295, 27.444658647), (1.561000525, 27.413916274), (1.548401444, 27.381504157)],
                knots=[0, 0, 0, 0, 0.401379628, 0.401379628, 0.532597129, 0.532597129, 0.795032131, 0.795032131, 0.872293174, 0.872293174, 0.929035391, 0.929035391, 0.985777609, 0.985777609, 1, 1, 1, 1], degree=3))
            ThreePointArc((1.548401444, 27.381504157), (1.561599917, 27.168880816), (1.73204774, 27.041090267))
            ThreePointArc((1.73204774, 27.041090267), (2.06754156, 26.96034019), (2.398462783, 26.862524944))
            ThreePointArc((2.398462783, 26.862524944), (2.609970199, 26.887970924), (2.727712058, 27.065508918))
            add(Edge.make_bspline(
                [(2.727712058, 27.065508918), (2.758027306, 27.262284452), (2.813394197, 27.382768971), (2.915184451, 27.557896221), (2.968416833, 27.625636366), (3.074394702, 27.756970829), (3.127314808, 27.815941489), (3.301355055, 27.997412691), (3.42294025, 28.10332325), (3.668431107, 28.297296652), (3.79192349, 28.383415091), (4.080267195, 28.56651592), (4.245886722, 28.657811196), (4.413309175, 28.740161311)],
                knots=[0, 0, 0, 0, 0.081187854, 0.081187854, 0.177126149, 0.177126149, 0.273064443, 0.273064443, 0.491378604, 0.491378604, 0.709692764, 0.709692764, 1, 1, 1, 1], degree=3))
            ThreePointArc((4.413309175, 28.740161311), (4.52189273, 28.764788339), (4.629904817, 28.737764865))
            ThreePointArc((4.629904817, 28.737764865), (4.993101087, 28.538677595), (5.347113885, 28.323684083))
            ThreePointArc((5.347113885, 28.323684083), (5.424522954, 28.24365462), (5.457487115, 28.137304994))
            add(Edge.make_bspline(
                [(5.457487115, 28.137304994), (5.474611373, 27.880084999), (5.474974883, 27.61620875), (5.44179968, 27.250657233), (5.430858441, 27.159086233), (5.386521453, 26.877309925), (5.345501487, 26.685999361), (5.248178557, 26.413392275), (5.224191016, 26.350883613), (5.170337177, 26.233449726), (5.145806416, 26.181455785), (5.070597355, 26.059020781), (5.014906027, 25.986031839), (4.901885157, 25.883174318), (4.8771117, 25.861978997), (4.849994477, 25.840208789)],
                knots=[0, 0, 0, 0, 0.401379627, 0.401379627, 0.532597128, 0.532597128, 0.79503213, 0.79503213, 0.872293173, 0.872293173, 0.92903538, 0.92903538, 0.985777588, 0.985777588, 1, 1, 1, 1], degree=3))
            ThreePointArc((4.849994477, 25.840208789), (4.75511302, 25.649472337), (4.83882989, 25.453578564))
            ThreePointArc((4.83882989, 25.453578564), (6.903298268, 21.908976505), (6.530483487, 17.823974353))
            ThreePointArc((6.530483487, 17.823974353), (5.821287087, 15.120303874), (5.90749079, 12.326495986))
        make_face()
        with Locations((0.323101648, 20.45)):
            Circle(ESQUISSE1_R, mode=Mode.SUBTRACT)
    extrude(amount=BOSS_EXTRU_1_DEPTH)


solid = part.part
